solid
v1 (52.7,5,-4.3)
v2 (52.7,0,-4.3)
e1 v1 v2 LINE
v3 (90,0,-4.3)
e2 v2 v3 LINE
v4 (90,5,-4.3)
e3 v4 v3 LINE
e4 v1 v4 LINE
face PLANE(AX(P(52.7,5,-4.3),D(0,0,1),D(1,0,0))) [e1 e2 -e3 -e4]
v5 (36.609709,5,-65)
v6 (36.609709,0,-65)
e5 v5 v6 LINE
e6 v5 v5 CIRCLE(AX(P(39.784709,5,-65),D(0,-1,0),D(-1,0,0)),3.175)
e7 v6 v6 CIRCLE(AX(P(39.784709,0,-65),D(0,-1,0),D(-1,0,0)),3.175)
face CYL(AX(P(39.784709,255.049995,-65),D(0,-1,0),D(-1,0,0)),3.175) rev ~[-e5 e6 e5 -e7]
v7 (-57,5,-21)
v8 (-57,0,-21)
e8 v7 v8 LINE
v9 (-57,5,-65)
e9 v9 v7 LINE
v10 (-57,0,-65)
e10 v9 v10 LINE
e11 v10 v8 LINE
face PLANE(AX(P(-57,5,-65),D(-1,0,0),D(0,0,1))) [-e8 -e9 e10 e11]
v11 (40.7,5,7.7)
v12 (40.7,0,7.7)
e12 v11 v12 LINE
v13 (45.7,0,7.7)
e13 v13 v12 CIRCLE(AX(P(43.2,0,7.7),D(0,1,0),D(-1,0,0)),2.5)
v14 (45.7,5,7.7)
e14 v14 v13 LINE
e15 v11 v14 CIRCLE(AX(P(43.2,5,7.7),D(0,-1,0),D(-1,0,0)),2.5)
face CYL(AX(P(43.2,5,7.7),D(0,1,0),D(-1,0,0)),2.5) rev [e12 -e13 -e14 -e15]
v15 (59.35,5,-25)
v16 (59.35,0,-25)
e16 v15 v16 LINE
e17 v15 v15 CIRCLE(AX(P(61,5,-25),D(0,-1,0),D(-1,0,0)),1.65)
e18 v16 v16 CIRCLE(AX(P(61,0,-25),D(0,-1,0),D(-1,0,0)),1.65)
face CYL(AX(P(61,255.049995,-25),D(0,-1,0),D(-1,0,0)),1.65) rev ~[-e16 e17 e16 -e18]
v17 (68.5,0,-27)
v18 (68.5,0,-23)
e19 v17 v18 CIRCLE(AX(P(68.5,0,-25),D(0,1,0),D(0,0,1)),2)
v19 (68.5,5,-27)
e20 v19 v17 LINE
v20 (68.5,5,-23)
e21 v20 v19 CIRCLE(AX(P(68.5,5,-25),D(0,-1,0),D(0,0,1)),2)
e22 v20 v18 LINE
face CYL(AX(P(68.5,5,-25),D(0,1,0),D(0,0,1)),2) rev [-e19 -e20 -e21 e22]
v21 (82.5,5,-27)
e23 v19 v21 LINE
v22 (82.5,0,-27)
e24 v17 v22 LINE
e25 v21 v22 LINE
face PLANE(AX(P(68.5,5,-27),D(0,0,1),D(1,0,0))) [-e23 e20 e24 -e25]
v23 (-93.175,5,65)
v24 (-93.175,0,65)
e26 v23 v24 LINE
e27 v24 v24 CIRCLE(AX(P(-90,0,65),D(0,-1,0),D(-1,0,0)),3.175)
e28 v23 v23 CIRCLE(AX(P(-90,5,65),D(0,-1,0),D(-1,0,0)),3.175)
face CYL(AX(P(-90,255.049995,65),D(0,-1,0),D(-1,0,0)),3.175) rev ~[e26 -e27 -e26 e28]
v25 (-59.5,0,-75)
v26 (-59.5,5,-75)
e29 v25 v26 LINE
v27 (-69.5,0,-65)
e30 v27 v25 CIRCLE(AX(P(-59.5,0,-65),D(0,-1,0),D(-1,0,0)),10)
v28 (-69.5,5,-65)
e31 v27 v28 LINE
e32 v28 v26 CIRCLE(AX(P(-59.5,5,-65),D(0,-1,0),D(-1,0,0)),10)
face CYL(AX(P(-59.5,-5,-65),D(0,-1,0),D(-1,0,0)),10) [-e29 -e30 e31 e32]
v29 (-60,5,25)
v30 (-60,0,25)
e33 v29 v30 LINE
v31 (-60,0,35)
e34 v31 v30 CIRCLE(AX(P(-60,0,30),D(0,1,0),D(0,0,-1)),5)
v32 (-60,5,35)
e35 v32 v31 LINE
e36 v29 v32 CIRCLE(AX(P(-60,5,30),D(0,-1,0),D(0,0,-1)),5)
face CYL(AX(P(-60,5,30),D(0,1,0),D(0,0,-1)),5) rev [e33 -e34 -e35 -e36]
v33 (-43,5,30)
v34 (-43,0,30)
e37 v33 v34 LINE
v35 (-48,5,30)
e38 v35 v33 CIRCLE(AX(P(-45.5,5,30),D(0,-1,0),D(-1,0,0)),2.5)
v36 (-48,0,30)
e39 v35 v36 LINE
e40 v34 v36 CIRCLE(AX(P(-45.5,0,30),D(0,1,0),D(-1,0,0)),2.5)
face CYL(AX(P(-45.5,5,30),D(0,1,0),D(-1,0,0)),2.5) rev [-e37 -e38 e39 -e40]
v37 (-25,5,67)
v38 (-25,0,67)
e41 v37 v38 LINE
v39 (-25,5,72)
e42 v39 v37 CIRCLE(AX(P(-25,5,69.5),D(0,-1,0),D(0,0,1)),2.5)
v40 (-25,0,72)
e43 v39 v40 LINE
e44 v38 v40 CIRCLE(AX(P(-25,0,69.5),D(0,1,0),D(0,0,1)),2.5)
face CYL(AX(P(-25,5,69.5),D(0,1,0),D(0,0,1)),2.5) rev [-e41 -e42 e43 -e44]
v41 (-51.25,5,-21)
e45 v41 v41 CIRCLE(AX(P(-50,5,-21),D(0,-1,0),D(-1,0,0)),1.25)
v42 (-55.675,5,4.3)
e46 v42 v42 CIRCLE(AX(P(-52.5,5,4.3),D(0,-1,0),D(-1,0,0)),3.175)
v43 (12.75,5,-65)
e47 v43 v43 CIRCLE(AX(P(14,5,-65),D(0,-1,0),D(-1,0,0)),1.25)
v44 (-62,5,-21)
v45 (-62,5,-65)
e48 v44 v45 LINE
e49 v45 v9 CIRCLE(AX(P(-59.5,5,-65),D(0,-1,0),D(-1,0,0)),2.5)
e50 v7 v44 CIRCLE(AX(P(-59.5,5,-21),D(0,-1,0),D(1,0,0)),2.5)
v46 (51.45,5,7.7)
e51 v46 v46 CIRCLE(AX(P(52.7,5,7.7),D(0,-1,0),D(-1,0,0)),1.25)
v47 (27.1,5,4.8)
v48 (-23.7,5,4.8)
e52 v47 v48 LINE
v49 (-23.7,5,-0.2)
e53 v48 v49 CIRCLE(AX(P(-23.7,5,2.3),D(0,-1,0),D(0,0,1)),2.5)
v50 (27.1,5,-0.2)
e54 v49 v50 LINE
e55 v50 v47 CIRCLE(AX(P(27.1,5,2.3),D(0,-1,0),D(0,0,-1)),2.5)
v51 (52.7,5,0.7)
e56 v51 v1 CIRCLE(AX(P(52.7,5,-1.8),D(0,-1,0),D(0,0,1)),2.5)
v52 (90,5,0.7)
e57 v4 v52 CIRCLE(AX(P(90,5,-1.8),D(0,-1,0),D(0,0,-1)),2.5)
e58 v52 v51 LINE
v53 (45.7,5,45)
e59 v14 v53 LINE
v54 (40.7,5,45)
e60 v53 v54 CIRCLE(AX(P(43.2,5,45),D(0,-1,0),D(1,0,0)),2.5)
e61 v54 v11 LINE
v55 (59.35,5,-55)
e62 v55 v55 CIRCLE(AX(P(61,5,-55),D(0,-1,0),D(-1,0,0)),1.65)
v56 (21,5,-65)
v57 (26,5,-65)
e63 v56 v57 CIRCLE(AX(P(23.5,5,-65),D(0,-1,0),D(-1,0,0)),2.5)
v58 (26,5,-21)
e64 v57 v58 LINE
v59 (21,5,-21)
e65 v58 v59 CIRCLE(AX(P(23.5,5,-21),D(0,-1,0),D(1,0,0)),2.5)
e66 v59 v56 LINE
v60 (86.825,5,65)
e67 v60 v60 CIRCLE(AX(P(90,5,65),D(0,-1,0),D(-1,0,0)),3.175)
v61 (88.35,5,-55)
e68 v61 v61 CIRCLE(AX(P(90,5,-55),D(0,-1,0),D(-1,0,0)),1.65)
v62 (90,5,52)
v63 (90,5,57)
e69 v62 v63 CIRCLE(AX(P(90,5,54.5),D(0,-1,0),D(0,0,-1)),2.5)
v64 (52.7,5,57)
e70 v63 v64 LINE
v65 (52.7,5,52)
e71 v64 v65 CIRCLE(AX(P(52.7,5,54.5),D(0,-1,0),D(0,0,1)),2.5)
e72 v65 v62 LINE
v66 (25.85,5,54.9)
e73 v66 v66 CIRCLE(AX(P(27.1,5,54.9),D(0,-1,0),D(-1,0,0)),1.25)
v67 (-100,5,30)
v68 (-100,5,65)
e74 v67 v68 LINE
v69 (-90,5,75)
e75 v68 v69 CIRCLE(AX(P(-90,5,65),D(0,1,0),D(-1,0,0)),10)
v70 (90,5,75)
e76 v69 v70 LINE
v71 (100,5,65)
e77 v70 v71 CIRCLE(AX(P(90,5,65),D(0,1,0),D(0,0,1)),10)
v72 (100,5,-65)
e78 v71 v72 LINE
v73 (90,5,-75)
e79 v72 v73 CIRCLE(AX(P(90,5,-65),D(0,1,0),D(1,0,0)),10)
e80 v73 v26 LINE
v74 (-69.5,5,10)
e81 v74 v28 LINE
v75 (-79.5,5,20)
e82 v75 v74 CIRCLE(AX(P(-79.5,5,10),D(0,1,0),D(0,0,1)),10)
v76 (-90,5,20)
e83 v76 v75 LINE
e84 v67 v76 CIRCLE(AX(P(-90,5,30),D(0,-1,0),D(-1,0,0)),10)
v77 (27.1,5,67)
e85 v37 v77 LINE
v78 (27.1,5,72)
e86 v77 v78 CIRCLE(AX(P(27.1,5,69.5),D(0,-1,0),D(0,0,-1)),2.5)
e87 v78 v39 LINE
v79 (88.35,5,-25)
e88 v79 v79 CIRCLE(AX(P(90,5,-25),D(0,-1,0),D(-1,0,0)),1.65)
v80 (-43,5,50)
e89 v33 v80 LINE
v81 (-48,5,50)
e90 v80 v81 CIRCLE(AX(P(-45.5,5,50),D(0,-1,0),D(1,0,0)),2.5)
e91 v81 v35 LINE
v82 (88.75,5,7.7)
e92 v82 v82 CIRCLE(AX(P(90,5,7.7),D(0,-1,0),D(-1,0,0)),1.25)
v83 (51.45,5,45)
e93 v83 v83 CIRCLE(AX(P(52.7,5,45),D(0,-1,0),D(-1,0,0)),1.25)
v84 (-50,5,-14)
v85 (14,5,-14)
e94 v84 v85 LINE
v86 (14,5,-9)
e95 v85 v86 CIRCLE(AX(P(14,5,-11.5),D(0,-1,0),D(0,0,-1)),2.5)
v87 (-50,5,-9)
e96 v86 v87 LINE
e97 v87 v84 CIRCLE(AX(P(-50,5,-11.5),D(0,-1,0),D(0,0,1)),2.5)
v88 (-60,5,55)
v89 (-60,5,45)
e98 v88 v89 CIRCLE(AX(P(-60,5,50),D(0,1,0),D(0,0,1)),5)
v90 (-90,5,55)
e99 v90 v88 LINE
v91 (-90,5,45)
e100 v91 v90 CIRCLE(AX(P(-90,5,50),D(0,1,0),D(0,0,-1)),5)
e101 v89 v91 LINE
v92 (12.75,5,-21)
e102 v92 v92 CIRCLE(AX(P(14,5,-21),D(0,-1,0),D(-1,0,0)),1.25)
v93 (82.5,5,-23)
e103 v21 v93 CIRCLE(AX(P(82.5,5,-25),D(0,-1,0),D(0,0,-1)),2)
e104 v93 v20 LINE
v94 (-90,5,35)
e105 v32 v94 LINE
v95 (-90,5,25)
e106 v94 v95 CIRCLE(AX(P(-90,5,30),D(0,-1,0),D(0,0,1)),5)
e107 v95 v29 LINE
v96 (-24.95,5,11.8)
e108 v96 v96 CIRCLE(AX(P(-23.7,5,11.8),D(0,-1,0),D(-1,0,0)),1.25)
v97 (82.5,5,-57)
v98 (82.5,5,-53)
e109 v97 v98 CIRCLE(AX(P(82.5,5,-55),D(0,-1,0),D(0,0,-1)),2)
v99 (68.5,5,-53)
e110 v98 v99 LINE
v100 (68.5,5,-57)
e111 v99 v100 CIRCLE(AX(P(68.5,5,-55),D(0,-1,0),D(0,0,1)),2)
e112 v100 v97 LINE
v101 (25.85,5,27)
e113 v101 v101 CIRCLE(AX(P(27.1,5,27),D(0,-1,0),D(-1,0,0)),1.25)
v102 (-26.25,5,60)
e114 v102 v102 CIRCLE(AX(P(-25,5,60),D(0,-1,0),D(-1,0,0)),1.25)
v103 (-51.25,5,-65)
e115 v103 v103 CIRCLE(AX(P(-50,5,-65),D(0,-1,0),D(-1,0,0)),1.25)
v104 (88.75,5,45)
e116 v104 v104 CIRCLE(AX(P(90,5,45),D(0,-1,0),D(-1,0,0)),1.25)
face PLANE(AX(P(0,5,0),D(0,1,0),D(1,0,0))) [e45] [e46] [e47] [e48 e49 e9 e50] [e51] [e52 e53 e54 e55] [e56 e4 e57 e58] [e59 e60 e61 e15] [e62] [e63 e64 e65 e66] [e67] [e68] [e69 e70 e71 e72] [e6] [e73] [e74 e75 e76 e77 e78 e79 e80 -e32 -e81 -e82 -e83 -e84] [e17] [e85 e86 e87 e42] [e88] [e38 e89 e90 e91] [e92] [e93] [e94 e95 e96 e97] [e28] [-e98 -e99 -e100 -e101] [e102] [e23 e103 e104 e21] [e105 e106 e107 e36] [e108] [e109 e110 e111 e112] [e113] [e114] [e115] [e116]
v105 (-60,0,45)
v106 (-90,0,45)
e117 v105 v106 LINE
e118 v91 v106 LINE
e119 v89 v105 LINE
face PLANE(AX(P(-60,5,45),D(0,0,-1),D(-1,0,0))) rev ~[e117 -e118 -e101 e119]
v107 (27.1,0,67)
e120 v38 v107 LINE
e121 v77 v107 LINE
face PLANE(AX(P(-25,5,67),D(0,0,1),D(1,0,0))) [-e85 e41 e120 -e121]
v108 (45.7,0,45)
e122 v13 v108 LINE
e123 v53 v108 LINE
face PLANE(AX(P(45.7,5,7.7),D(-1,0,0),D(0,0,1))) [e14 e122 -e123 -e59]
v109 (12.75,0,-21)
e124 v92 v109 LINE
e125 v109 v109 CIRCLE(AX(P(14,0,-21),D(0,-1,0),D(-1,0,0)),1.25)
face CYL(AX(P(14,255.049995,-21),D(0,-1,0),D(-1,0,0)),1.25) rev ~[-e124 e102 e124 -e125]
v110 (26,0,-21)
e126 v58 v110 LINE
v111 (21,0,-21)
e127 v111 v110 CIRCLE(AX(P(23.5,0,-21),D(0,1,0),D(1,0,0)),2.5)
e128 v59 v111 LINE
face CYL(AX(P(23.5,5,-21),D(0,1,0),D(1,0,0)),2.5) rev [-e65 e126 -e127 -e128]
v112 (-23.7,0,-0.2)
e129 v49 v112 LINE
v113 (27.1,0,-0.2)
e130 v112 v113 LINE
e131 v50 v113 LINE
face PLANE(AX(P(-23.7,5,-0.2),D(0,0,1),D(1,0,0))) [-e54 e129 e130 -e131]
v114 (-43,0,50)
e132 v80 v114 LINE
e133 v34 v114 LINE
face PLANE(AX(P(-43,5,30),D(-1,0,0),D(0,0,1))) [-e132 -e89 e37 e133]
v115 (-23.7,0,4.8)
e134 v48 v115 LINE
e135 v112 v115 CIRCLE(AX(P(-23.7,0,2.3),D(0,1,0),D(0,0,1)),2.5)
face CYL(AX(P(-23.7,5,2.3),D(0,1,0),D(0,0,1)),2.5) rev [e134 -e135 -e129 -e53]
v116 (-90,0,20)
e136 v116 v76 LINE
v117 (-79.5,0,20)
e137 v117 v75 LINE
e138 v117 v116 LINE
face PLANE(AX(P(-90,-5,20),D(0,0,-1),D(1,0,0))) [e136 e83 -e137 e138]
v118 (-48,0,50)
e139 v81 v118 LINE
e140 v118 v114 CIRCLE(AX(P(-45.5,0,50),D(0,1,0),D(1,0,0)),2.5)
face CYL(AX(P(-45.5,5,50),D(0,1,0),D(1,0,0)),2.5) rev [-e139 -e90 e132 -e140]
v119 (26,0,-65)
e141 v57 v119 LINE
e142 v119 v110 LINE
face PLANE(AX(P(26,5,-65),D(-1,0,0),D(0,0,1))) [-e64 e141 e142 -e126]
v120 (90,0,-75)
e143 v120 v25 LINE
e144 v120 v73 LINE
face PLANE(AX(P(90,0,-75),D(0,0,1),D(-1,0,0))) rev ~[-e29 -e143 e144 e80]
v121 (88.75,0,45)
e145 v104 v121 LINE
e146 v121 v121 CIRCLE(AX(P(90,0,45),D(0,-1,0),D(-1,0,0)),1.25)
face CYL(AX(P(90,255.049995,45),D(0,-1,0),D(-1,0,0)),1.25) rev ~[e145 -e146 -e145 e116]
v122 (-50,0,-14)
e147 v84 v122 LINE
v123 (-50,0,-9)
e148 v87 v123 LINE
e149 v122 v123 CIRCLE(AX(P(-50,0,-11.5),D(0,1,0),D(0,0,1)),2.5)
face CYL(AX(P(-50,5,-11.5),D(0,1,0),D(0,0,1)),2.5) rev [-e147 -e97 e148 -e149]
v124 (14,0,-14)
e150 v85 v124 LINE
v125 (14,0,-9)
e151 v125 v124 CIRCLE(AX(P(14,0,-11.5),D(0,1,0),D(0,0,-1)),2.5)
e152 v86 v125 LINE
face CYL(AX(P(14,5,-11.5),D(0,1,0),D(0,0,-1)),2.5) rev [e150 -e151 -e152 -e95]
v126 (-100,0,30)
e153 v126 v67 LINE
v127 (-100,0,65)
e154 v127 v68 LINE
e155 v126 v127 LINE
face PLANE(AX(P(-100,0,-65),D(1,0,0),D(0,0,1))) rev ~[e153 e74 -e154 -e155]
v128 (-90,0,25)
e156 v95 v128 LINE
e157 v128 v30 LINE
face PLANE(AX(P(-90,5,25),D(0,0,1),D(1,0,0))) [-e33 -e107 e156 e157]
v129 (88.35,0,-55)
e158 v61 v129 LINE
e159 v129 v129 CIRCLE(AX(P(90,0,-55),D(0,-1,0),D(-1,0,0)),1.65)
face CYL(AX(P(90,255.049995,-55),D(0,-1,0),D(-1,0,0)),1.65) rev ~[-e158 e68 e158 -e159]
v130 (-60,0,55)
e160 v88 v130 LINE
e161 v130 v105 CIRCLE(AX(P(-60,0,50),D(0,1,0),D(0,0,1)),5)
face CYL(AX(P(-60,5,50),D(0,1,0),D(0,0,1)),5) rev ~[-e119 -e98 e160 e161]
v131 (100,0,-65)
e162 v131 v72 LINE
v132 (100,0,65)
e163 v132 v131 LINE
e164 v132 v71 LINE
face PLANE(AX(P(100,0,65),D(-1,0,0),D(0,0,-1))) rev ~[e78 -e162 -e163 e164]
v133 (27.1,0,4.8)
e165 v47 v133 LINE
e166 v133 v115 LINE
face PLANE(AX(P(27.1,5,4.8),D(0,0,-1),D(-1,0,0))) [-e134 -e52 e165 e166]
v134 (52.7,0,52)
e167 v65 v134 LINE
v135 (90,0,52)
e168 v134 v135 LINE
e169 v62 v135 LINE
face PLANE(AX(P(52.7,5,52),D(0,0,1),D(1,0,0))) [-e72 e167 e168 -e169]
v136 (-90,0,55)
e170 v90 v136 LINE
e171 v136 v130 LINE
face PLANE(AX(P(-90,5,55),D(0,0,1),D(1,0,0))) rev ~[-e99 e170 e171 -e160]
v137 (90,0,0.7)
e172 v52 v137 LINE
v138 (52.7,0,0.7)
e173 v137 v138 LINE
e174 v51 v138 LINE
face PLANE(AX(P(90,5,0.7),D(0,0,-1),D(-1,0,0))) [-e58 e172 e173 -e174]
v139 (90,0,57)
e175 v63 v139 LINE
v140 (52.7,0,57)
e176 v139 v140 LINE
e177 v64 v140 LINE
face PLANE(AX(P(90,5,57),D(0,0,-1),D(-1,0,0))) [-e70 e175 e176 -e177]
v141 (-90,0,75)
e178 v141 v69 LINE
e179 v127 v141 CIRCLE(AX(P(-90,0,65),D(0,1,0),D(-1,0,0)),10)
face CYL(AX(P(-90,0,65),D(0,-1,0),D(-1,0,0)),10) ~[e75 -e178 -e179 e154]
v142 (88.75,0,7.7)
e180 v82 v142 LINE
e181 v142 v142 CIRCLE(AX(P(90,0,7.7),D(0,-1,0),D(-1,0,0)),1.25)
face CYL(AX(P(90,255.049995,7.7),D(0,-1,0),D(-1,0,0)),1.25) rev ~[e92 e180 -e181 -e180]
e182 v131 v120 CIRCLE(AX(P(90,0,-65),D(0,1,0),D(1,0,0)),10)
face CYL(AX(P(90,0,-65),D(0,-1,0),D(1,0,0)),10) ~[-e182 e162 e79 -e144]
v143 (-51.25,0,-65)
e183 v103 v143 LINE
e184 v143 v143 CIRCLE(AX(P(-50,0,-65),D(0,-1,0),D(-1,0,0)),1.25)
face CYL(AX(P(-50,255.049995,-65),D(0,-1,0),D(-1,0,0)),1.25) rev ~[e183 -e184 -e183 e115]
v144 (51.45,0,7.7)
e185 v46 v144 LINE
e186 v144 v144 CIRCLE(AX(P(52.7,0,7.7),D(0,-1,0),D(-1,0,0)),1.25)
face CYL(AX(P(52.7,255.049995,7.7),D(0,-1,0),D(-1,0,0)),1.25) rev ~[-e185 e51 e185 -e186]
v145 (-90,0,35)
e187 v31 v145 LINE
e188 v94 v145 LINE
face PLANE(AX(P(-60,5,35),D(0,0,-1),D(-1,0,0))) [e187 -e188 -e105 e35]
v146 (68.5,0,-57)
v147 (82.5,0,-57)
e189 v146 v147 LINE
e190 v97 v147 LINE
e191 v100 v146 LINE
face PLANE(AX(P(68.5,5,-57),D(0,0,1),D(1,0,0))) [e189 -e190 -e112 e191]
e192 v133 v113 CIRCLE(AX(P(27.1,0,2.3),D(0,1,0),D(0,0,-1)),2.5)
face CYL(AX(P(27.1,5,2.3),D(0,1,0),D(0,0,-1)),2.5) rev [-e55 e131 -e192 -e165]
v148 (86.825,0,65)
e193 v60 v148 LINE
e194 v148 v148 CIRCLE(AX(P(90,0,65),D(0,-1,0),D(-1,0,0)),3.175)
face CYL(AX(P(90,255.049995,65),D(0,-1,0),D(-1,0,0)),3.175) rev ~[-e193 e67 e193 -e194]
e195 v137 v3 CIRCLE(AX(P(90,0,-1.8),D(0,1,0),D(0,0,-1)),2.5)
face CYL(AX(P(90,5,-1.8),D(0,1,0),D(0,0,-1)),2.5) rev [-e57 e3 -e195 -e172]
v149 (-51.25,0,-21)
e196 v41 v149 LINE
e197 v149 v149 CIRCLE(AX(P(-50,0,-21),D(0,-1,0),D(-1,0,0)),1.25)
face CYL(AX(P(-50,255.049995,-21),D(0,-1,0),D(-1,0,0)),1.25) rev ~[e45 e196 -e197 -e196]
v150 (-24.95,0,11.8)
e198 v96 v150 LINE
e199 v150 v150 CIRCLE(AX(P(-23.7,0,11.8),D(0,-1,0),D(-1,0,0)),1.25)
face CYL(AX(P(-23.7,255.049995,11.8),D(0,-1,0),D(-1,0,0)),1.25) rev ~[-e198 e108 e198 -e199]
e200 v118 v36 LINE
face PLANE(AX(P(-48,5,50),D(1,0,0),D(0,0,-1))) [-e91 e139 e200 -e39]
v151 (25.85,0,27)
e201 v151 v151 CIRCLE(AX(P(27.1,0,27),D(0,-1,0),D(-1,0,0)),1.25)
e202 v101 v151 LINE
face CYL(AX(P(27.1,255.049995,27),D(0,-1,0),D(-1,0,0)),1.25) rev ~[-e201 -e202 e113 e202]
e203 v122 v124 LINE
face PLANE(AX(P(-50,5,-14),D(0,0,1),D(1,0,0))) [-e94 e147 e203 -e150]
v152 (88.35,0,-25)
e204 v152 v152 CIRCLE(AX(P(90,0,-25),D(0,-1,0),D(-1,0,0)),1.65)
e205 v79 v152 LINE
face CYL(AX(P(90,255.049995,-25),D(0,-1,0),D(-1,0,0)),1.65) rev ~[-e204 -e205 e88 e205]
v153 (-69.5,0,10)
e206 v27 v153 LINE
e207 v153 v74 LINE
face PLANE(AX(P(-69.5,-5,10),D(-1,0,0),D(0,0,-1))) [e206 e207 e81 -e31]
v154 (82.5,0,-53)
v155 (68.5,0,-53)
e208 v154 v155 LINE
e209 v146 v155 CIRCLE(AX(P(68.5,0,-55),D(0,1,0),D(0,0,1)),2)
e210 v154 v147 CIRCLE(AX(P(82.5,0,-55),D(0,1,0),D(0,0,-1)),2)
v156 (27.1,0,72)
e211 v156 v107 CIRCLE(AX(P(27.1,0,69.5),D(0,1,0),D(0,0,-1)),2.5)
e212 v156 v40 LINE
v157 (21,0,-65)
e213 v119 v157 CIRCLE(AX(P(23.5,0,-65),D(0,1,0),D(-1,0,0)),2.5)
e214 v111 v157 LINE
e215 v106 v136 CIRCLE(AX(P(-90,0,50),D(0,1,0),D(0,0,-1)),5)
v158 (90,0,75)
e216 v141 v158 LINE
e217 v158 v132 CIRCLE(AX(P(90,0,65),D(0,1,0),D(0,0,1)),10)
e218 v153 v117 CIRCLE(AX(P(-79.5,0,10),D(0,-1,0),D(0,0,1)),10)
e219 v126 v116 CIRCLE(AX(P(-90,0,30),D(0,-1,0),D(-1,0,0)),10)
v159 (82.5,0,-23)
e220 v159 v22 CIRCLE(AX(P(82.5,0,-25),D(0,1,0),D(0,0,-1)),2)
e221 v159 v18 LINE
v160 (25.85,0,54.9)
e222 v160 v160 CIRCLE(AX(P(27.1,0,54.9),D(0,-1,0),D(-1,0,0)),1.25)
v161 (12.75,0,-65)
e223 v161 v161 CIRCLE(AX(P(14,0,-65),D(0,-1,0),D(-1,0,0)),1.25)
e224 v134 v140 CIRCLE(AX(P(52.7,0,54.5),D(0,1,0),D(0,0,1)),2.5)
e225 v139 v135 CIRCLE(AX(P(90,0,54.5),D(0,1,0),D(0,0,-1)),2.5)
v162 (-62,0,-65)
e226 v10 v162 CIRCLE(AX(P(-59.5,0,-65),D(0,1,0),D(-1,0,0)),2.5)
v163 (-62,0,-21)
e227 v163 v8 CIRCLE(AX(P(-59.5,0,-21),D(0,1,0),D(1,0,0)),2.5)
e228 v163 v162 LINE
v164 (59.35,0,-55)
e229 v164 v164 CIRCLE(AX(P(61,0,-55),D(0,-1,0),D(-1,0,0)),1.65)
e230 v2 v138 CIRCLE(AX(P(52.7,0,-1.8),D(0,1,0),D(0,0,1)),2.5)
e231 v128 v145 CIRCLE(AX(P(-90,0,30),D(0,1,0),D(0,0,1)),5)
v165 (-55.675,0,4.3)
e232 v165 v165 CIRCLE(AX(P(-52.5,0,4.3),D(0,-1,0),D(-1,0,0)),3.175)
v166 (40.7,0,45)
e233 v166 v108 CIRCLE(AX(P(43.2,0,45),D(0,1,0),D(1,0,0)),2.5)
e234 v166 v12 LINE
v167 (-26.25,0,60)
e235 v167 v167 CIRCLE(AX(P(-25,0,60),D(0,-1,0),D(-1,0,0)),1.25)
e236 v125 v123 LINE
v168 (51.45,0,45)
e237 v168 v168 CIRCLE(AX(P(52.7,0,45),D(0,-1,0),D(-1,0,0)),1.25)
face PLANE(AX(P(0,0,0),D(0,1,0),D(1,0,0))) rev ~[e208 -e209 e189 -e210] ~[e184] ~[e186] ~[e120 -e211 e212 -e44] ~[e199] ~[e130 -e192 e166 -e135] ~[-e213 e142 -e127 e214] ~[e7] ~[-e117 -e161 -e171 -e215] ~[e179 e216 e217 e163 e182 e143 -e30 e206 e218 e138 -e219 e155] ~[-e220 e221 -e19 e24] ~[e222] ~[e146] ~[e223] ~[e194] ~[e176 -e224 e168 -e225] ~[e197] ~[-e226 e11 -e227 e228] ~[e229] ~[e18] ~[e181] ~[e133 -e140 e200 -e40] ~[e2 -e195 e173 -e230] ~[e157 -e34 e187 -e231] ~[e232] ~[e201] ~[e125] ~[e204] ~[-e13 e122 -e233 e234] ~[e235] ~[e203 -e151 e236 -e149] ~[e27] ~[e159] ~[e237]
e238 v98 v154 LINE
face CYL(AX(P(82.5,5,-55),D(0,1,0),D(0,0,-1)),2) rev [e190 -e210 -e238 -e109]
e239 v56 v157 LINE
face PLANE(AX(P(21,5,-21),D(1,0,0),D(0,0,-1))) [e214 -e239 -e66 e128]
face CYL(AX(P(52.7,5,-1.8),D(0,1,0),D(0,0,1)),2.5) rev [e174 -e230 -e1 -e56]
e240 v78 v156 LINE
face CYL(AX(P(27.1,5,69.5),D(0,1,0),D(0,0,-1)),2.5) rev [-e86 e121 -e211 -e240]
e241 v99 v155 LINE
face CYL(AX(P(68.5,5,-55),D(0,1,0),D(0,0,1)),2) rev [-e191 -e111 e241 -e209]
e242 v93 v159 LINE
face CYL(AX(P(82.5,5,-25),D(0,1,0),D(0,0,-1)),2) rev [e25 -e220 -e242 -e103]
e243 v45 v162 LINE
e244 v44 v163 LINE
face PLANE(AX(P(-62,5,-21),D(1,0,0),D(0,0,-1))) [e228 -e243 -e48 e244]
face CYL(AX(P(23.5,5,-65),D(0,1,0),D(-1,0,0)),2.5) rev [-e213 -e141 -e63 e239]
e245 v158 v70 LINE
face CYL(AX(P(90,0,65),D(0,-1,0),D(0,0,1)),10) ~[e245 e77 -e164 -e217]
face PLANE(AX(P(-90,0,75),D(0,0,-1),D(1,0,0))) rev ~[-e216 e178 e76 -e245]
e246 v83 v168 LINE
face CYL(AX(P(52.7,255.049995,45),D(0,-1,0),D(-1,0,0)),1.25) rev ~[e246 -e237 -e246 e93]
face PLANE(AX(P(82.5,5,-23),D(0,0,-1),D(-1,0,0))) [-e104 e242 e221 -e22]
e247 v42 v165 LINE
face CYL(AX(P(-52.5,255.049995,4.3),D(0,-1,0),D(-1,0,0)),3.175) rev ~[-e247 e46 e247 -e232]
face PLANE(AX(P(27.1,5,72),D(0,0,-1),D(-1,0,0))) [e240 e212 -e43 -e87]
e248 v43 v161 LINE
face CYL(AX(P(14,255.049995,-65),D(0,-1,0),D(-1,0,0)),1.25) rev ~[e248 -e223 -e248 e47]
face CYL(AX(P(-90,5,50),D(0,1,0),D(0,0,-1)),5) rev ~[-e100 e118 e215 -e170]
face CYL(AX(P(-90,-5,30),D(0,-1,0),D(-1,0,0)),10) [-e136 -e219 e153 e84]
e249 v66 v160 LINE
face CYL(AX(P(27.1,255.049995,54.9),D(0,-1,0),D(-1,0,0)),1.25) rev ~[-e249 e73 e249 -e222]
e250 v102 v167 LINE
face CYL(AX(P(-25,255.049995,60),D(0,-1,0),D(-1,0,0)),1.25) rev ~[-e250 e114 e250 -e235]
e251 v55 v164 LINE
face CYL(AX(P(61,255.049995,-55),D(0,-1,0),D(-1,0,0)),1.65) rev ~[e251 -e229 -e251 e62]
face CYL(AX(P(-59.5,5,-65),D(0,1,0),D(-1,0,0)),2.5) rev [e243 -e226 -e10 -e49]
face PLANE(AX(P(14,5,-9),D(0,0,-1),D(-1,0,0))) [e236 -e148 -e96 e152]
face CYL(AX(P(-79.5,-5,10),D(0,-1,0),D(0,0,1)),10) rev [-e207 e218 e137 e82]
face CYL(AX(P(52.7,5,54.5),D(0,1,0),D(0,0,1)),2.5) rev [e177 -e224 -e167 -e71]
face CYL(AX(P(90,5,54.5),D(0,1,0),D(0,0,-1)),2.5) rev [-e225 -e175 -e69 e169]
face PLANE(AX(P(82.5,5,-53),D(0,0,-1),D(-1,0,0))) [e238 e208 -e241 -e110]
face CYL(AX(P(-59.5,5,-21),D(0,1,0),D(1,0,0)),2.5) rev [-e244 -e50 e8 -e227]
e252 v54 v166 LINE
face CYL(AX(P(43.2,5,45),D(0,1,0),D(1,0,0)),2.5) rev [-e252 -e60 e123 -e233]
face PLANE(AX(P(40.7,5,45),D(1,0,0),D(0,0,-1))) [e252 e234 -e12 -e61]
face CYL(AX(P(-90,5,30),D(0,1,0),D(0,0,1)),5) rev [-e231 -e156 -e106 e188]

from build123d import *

# Parameters (mm, degrees)
BOSS_EXTRUDE1_DEPTH          = 5
ARDUINO_UNO_HOLES_D          = 2.5
L298N_HOLES_D                = 2.5
PROTOBOARD_HOLES_D           = 2.5
L_BRACKET_HOLES_D            = 3.3
POWER_BLOCK_SLOTS_DEPTH      = 126.099960032
CABLE_MANAGEMENT_SLOTS_DEPTH = 126.099960032
CUT_EXTRUDE3_START           = -10
CUT_EXTRUDE3_DEPTH           = 10
WALL_MOUNTING_HOLES_D        = 6.35


with BuildPart() as part:
    # Sketch1 → Boss-Extrude1 (new body)
    with BuildSketch(Plane(origin=(0, 0, 0), x_dir=(1, 0, 0), z_dir=(0, 1, 0))):
        with BuildLine():
            Line((-90, -75), (90, -75))
            ThreePointArc((90, -75), (97.071067812, -72.071067812), (100, -65))
            Line((100, -65), (100, 65))
            ThreePointArc((100, 65), (97.071067812, 72.071067812), (90, 75))
            Line((90, 75), (-90, 75))
            ThreePointArc((-90, 75), (-97.071067812, 72.071067812), (-100, 65))
            Line((-100, 65), (-100, -65))
            ThreePointArc((-100, -65), (-97.071067812, -72.071067812), (-90, -75))
        make_face()
    extrude(amount=BOSS_EXTRUDE1_DEPTH)

    # arduino uno holes (through all)
    with Locations(Plane(origin=(0, 5, 0), x_dir=(1, 0, 0), z_dir=(0, 1, 0))):
        with Locations((27.1, -27), (27.1, -54.9), (-23.7, -11.8), (-25, -60)):
            Hole(ARDUINO_UNO_HOLES_D / 2)

    # l298n holes (through all)
    with Locations(Plane(origin=(0, 5, 0), x_dir=(1, 0, 0), z_dir=(0, 1, 0))):
        with Locations((52.7, -45), (90, -45), (90, -7.7), (52.7, -7.7)):
            Hole(L298N_HOLES_D / 2)

    # protoboard holes (through all)
    with Locations(Plane(origin=(0, 5, 0), x_dir=(1, 0, 0), z_dir=(0, 1, 0))):
        with Locations((-50, 21), (14, 21), (14, 65), (-50, 65)):
            Hole(PROTOBOARD_HOLES_D / 2)

    # l-bracket holes (through all)
    with Locations(Plane(origin=(0, 5, 0), x_dir=(1, 0, 0), z_dir=(0, 1, 0))):
        with Locations((61, 55), (90, 55), (90, 25), (61, 25)):
            Hole(L_BRACKET_HOLES_D / 2)

    # Sketch24 → power block slots (cut, through all)
    with BuildSketch(Plane(origin=(0, 5, 0), x_dir=(1, 0, 0), z_dir=(0, 1, 0))):
        with BuildLine():
            Line((-60, -35), (-90, -35))
            ThreePointArc((-90, -35), (-95, -30), (-90, -25))
            Line((-90, -25), (-60, -25))
            ThreePointArc((-60, -25), (-55, -30), (-60, -35))
        make_face()
        with BuildLine():
            Line((-60, -45), (-90, -45))
            ThreePointArc((-90, -45), (-95, -50), (-90, -55))
            Line((-90, -55), (-60, -55))
            ThreePointArc((-60, -55), (-55, -50), (-60, -45))
        make_face()
    extrude(amount=-POWER_BLOCK_SLOTS_DEPTH, mode=Mode.SUBTRACT)

    # Sketch26 → cable management slots (cut, through all)
    with BuildSketch(Plane(origin=(0, 5, 0), x_dir=(1, 0, 0), z_dir=(0, 1, 0))):
        with BuildLine():
            Line((-50, 14), (14, 14))
            ThreePointArc((14, 14), (16.5, 11.5), (14, 9))
            Line((14, 9), (-50, 9))
            ThreePointArc((-50, 9), (-52.5, 11.5), (-50, 14))
        make_face()
        with BuildLine():
            Line((26, 65), (26, 21))
            ThreePointArc((26, 21), (23.5, 18.5), (21, 21))
            Line((21, 21), (21, 65))
            ThreePointArc((21, 65), (23.5, 67.5), (26, 65))
        make_face()
        with BuildLine():
            Line((68.5, 57), (82.5, 57))
            ThreePointArc((82.5, 57), (84.5, 55), (82.5, 53))
            Line((82.5, 53), (68.5, 53))
            ThreePointArc((68.5, 53), (66.5, 55), (68.5, 57))
        make_face()
        with BuildLine():
            Line((68.5, 27), (82.5, 27))
            ThreePointArc((82.5, 27), (84.5, 25), (82.5, 23))
            Line((82.5, 23), (68.5, 23))
            ThreePointArc((68.5, 23), (66.5, 25), (68.5, 27))
        make_face()
        with BuildLine():
            Line((52.7, 4.3), (90, 4.3))
            ThreePointArc((90, 4.3), (92.5, 1.8), (90, -0.7))
            Line((90, -0.7), (52.7, -0.7))
            ThreePointArc((52.7, -0.7), (50.2, 1.8), (52.7, 4.3))
        make_face()
        with BuildLine():
            Line((45.7, -7.7), (45.7, -45))
            ThreePointArc((45.7, -45), (43.2, -47.5), (40.7, -45))
            Line((40.7, -45), (40.7, -7.7))
            ThreePointArc((40.7, -7.7), (43.2, -5.2), (45.7, -7.7))
        make_face()
        with BuildLine():
            Line((-25, -67), (27.1, -67))
            ThreePointArc((27.1, -67), (29.6, -69.5), (27.1, -72))
            Line((27.1, -72), (-25, -72))
            ThreePointArc((-25, -72), (-27.5, -69.5), (-25, -67))
        make_face()
        with BuildLine():
            Line((-43, -30), (-43, -50))
            ThreePointArc((-43, -50), (-45.5, -52.5), (-48, -50))
            Line((-48, -50), (-48, -30))
            ThreePointArc((-48, -30), (-45.5, -27.5), (-43, -30))
        make_face()
        with BuildLine():
            Line((-23.7, 0.2), (27.1, 0.2))
            ThreePointArc((27.1, 0.2), (29.6, -2.3), (27.1, -4.8))
            Line((27.1, -4.8), (-23.7, -4.8))
            ThreePointArc((-23.7, -4.8), (-26.2, -2.3), (-23.7, 0.2))
        make_face()
        with BuildLine():
            Line((-57, 65), (-57, 21))
            ThreePointArc((-57, 21), (-59.5, 18.5), (-62, 21))
            Line((-62, 21), (-62, 65))
            ThreePointArc((-62, 65), (-59.5, 67.5), (-57, 65))
        make_face()
        with BuildLine():
            Line((90, -57), (52.7, -57))
            ThreePointArc((52.7, -57), (50.2, -54.5), (52.7, -52))
            Line((52.7, -52), (90, -52))
            ThreePointArc((90, -52), (92.5, -54.5), (90, -57))
        make_face()
    extrude(amount=-CABLE_MANAGEMENT_SLOTS_DEPTH, mode=Mode.SUBTRACT)

    # Sketch27 → Cut-Extrude3 (cut)
    with BuildSketch(Plane(origin=(0, 5, 0), x_dir=(1, 0, 0), z_dir=(0, 1, 0)).offset(CUT_EXTRUDE3_START)):
        with BuildLine():
            Line((-69.5, -10), (-69.5, 65))
            ThreePointArc((-69.5, 65), (-66.571067812, 72.071067812), (-59.5, 75))
            Line((-59.5, 75), (-90, 75))
            ThreePointArc((-90, 75), (-97.071067812, 72.071067812), (-100, 65))
            Line((-100, 65), (-100, -30))
            ThreePointArc((-100, -30), (-97.071067812, -22.928932188), (-90, -20))
            Line((-90, -20), (-79.5, -20))
            ThreePointArc((-79.5, -20), (-72.428932188, -17.071067812), (-69.5, -10))
        make_face()
    extrude(amount=CUT_EXTRUDE3_DEPTH, mode=Mode.SUBTRACT)

    # wall-mounting holes (through all)
    with Locations(Plane(origin=(0, 5, 0), x_dir=(1, 0, 0), z_dir=(0, 1, 0))):
        with Locations((-90, -65), (90, -65), (39.784709297, 65), (-52.5, -4.3)):
            Hole(WALL_MOUNTING_HOLES_D / 2)


solid = part.part
